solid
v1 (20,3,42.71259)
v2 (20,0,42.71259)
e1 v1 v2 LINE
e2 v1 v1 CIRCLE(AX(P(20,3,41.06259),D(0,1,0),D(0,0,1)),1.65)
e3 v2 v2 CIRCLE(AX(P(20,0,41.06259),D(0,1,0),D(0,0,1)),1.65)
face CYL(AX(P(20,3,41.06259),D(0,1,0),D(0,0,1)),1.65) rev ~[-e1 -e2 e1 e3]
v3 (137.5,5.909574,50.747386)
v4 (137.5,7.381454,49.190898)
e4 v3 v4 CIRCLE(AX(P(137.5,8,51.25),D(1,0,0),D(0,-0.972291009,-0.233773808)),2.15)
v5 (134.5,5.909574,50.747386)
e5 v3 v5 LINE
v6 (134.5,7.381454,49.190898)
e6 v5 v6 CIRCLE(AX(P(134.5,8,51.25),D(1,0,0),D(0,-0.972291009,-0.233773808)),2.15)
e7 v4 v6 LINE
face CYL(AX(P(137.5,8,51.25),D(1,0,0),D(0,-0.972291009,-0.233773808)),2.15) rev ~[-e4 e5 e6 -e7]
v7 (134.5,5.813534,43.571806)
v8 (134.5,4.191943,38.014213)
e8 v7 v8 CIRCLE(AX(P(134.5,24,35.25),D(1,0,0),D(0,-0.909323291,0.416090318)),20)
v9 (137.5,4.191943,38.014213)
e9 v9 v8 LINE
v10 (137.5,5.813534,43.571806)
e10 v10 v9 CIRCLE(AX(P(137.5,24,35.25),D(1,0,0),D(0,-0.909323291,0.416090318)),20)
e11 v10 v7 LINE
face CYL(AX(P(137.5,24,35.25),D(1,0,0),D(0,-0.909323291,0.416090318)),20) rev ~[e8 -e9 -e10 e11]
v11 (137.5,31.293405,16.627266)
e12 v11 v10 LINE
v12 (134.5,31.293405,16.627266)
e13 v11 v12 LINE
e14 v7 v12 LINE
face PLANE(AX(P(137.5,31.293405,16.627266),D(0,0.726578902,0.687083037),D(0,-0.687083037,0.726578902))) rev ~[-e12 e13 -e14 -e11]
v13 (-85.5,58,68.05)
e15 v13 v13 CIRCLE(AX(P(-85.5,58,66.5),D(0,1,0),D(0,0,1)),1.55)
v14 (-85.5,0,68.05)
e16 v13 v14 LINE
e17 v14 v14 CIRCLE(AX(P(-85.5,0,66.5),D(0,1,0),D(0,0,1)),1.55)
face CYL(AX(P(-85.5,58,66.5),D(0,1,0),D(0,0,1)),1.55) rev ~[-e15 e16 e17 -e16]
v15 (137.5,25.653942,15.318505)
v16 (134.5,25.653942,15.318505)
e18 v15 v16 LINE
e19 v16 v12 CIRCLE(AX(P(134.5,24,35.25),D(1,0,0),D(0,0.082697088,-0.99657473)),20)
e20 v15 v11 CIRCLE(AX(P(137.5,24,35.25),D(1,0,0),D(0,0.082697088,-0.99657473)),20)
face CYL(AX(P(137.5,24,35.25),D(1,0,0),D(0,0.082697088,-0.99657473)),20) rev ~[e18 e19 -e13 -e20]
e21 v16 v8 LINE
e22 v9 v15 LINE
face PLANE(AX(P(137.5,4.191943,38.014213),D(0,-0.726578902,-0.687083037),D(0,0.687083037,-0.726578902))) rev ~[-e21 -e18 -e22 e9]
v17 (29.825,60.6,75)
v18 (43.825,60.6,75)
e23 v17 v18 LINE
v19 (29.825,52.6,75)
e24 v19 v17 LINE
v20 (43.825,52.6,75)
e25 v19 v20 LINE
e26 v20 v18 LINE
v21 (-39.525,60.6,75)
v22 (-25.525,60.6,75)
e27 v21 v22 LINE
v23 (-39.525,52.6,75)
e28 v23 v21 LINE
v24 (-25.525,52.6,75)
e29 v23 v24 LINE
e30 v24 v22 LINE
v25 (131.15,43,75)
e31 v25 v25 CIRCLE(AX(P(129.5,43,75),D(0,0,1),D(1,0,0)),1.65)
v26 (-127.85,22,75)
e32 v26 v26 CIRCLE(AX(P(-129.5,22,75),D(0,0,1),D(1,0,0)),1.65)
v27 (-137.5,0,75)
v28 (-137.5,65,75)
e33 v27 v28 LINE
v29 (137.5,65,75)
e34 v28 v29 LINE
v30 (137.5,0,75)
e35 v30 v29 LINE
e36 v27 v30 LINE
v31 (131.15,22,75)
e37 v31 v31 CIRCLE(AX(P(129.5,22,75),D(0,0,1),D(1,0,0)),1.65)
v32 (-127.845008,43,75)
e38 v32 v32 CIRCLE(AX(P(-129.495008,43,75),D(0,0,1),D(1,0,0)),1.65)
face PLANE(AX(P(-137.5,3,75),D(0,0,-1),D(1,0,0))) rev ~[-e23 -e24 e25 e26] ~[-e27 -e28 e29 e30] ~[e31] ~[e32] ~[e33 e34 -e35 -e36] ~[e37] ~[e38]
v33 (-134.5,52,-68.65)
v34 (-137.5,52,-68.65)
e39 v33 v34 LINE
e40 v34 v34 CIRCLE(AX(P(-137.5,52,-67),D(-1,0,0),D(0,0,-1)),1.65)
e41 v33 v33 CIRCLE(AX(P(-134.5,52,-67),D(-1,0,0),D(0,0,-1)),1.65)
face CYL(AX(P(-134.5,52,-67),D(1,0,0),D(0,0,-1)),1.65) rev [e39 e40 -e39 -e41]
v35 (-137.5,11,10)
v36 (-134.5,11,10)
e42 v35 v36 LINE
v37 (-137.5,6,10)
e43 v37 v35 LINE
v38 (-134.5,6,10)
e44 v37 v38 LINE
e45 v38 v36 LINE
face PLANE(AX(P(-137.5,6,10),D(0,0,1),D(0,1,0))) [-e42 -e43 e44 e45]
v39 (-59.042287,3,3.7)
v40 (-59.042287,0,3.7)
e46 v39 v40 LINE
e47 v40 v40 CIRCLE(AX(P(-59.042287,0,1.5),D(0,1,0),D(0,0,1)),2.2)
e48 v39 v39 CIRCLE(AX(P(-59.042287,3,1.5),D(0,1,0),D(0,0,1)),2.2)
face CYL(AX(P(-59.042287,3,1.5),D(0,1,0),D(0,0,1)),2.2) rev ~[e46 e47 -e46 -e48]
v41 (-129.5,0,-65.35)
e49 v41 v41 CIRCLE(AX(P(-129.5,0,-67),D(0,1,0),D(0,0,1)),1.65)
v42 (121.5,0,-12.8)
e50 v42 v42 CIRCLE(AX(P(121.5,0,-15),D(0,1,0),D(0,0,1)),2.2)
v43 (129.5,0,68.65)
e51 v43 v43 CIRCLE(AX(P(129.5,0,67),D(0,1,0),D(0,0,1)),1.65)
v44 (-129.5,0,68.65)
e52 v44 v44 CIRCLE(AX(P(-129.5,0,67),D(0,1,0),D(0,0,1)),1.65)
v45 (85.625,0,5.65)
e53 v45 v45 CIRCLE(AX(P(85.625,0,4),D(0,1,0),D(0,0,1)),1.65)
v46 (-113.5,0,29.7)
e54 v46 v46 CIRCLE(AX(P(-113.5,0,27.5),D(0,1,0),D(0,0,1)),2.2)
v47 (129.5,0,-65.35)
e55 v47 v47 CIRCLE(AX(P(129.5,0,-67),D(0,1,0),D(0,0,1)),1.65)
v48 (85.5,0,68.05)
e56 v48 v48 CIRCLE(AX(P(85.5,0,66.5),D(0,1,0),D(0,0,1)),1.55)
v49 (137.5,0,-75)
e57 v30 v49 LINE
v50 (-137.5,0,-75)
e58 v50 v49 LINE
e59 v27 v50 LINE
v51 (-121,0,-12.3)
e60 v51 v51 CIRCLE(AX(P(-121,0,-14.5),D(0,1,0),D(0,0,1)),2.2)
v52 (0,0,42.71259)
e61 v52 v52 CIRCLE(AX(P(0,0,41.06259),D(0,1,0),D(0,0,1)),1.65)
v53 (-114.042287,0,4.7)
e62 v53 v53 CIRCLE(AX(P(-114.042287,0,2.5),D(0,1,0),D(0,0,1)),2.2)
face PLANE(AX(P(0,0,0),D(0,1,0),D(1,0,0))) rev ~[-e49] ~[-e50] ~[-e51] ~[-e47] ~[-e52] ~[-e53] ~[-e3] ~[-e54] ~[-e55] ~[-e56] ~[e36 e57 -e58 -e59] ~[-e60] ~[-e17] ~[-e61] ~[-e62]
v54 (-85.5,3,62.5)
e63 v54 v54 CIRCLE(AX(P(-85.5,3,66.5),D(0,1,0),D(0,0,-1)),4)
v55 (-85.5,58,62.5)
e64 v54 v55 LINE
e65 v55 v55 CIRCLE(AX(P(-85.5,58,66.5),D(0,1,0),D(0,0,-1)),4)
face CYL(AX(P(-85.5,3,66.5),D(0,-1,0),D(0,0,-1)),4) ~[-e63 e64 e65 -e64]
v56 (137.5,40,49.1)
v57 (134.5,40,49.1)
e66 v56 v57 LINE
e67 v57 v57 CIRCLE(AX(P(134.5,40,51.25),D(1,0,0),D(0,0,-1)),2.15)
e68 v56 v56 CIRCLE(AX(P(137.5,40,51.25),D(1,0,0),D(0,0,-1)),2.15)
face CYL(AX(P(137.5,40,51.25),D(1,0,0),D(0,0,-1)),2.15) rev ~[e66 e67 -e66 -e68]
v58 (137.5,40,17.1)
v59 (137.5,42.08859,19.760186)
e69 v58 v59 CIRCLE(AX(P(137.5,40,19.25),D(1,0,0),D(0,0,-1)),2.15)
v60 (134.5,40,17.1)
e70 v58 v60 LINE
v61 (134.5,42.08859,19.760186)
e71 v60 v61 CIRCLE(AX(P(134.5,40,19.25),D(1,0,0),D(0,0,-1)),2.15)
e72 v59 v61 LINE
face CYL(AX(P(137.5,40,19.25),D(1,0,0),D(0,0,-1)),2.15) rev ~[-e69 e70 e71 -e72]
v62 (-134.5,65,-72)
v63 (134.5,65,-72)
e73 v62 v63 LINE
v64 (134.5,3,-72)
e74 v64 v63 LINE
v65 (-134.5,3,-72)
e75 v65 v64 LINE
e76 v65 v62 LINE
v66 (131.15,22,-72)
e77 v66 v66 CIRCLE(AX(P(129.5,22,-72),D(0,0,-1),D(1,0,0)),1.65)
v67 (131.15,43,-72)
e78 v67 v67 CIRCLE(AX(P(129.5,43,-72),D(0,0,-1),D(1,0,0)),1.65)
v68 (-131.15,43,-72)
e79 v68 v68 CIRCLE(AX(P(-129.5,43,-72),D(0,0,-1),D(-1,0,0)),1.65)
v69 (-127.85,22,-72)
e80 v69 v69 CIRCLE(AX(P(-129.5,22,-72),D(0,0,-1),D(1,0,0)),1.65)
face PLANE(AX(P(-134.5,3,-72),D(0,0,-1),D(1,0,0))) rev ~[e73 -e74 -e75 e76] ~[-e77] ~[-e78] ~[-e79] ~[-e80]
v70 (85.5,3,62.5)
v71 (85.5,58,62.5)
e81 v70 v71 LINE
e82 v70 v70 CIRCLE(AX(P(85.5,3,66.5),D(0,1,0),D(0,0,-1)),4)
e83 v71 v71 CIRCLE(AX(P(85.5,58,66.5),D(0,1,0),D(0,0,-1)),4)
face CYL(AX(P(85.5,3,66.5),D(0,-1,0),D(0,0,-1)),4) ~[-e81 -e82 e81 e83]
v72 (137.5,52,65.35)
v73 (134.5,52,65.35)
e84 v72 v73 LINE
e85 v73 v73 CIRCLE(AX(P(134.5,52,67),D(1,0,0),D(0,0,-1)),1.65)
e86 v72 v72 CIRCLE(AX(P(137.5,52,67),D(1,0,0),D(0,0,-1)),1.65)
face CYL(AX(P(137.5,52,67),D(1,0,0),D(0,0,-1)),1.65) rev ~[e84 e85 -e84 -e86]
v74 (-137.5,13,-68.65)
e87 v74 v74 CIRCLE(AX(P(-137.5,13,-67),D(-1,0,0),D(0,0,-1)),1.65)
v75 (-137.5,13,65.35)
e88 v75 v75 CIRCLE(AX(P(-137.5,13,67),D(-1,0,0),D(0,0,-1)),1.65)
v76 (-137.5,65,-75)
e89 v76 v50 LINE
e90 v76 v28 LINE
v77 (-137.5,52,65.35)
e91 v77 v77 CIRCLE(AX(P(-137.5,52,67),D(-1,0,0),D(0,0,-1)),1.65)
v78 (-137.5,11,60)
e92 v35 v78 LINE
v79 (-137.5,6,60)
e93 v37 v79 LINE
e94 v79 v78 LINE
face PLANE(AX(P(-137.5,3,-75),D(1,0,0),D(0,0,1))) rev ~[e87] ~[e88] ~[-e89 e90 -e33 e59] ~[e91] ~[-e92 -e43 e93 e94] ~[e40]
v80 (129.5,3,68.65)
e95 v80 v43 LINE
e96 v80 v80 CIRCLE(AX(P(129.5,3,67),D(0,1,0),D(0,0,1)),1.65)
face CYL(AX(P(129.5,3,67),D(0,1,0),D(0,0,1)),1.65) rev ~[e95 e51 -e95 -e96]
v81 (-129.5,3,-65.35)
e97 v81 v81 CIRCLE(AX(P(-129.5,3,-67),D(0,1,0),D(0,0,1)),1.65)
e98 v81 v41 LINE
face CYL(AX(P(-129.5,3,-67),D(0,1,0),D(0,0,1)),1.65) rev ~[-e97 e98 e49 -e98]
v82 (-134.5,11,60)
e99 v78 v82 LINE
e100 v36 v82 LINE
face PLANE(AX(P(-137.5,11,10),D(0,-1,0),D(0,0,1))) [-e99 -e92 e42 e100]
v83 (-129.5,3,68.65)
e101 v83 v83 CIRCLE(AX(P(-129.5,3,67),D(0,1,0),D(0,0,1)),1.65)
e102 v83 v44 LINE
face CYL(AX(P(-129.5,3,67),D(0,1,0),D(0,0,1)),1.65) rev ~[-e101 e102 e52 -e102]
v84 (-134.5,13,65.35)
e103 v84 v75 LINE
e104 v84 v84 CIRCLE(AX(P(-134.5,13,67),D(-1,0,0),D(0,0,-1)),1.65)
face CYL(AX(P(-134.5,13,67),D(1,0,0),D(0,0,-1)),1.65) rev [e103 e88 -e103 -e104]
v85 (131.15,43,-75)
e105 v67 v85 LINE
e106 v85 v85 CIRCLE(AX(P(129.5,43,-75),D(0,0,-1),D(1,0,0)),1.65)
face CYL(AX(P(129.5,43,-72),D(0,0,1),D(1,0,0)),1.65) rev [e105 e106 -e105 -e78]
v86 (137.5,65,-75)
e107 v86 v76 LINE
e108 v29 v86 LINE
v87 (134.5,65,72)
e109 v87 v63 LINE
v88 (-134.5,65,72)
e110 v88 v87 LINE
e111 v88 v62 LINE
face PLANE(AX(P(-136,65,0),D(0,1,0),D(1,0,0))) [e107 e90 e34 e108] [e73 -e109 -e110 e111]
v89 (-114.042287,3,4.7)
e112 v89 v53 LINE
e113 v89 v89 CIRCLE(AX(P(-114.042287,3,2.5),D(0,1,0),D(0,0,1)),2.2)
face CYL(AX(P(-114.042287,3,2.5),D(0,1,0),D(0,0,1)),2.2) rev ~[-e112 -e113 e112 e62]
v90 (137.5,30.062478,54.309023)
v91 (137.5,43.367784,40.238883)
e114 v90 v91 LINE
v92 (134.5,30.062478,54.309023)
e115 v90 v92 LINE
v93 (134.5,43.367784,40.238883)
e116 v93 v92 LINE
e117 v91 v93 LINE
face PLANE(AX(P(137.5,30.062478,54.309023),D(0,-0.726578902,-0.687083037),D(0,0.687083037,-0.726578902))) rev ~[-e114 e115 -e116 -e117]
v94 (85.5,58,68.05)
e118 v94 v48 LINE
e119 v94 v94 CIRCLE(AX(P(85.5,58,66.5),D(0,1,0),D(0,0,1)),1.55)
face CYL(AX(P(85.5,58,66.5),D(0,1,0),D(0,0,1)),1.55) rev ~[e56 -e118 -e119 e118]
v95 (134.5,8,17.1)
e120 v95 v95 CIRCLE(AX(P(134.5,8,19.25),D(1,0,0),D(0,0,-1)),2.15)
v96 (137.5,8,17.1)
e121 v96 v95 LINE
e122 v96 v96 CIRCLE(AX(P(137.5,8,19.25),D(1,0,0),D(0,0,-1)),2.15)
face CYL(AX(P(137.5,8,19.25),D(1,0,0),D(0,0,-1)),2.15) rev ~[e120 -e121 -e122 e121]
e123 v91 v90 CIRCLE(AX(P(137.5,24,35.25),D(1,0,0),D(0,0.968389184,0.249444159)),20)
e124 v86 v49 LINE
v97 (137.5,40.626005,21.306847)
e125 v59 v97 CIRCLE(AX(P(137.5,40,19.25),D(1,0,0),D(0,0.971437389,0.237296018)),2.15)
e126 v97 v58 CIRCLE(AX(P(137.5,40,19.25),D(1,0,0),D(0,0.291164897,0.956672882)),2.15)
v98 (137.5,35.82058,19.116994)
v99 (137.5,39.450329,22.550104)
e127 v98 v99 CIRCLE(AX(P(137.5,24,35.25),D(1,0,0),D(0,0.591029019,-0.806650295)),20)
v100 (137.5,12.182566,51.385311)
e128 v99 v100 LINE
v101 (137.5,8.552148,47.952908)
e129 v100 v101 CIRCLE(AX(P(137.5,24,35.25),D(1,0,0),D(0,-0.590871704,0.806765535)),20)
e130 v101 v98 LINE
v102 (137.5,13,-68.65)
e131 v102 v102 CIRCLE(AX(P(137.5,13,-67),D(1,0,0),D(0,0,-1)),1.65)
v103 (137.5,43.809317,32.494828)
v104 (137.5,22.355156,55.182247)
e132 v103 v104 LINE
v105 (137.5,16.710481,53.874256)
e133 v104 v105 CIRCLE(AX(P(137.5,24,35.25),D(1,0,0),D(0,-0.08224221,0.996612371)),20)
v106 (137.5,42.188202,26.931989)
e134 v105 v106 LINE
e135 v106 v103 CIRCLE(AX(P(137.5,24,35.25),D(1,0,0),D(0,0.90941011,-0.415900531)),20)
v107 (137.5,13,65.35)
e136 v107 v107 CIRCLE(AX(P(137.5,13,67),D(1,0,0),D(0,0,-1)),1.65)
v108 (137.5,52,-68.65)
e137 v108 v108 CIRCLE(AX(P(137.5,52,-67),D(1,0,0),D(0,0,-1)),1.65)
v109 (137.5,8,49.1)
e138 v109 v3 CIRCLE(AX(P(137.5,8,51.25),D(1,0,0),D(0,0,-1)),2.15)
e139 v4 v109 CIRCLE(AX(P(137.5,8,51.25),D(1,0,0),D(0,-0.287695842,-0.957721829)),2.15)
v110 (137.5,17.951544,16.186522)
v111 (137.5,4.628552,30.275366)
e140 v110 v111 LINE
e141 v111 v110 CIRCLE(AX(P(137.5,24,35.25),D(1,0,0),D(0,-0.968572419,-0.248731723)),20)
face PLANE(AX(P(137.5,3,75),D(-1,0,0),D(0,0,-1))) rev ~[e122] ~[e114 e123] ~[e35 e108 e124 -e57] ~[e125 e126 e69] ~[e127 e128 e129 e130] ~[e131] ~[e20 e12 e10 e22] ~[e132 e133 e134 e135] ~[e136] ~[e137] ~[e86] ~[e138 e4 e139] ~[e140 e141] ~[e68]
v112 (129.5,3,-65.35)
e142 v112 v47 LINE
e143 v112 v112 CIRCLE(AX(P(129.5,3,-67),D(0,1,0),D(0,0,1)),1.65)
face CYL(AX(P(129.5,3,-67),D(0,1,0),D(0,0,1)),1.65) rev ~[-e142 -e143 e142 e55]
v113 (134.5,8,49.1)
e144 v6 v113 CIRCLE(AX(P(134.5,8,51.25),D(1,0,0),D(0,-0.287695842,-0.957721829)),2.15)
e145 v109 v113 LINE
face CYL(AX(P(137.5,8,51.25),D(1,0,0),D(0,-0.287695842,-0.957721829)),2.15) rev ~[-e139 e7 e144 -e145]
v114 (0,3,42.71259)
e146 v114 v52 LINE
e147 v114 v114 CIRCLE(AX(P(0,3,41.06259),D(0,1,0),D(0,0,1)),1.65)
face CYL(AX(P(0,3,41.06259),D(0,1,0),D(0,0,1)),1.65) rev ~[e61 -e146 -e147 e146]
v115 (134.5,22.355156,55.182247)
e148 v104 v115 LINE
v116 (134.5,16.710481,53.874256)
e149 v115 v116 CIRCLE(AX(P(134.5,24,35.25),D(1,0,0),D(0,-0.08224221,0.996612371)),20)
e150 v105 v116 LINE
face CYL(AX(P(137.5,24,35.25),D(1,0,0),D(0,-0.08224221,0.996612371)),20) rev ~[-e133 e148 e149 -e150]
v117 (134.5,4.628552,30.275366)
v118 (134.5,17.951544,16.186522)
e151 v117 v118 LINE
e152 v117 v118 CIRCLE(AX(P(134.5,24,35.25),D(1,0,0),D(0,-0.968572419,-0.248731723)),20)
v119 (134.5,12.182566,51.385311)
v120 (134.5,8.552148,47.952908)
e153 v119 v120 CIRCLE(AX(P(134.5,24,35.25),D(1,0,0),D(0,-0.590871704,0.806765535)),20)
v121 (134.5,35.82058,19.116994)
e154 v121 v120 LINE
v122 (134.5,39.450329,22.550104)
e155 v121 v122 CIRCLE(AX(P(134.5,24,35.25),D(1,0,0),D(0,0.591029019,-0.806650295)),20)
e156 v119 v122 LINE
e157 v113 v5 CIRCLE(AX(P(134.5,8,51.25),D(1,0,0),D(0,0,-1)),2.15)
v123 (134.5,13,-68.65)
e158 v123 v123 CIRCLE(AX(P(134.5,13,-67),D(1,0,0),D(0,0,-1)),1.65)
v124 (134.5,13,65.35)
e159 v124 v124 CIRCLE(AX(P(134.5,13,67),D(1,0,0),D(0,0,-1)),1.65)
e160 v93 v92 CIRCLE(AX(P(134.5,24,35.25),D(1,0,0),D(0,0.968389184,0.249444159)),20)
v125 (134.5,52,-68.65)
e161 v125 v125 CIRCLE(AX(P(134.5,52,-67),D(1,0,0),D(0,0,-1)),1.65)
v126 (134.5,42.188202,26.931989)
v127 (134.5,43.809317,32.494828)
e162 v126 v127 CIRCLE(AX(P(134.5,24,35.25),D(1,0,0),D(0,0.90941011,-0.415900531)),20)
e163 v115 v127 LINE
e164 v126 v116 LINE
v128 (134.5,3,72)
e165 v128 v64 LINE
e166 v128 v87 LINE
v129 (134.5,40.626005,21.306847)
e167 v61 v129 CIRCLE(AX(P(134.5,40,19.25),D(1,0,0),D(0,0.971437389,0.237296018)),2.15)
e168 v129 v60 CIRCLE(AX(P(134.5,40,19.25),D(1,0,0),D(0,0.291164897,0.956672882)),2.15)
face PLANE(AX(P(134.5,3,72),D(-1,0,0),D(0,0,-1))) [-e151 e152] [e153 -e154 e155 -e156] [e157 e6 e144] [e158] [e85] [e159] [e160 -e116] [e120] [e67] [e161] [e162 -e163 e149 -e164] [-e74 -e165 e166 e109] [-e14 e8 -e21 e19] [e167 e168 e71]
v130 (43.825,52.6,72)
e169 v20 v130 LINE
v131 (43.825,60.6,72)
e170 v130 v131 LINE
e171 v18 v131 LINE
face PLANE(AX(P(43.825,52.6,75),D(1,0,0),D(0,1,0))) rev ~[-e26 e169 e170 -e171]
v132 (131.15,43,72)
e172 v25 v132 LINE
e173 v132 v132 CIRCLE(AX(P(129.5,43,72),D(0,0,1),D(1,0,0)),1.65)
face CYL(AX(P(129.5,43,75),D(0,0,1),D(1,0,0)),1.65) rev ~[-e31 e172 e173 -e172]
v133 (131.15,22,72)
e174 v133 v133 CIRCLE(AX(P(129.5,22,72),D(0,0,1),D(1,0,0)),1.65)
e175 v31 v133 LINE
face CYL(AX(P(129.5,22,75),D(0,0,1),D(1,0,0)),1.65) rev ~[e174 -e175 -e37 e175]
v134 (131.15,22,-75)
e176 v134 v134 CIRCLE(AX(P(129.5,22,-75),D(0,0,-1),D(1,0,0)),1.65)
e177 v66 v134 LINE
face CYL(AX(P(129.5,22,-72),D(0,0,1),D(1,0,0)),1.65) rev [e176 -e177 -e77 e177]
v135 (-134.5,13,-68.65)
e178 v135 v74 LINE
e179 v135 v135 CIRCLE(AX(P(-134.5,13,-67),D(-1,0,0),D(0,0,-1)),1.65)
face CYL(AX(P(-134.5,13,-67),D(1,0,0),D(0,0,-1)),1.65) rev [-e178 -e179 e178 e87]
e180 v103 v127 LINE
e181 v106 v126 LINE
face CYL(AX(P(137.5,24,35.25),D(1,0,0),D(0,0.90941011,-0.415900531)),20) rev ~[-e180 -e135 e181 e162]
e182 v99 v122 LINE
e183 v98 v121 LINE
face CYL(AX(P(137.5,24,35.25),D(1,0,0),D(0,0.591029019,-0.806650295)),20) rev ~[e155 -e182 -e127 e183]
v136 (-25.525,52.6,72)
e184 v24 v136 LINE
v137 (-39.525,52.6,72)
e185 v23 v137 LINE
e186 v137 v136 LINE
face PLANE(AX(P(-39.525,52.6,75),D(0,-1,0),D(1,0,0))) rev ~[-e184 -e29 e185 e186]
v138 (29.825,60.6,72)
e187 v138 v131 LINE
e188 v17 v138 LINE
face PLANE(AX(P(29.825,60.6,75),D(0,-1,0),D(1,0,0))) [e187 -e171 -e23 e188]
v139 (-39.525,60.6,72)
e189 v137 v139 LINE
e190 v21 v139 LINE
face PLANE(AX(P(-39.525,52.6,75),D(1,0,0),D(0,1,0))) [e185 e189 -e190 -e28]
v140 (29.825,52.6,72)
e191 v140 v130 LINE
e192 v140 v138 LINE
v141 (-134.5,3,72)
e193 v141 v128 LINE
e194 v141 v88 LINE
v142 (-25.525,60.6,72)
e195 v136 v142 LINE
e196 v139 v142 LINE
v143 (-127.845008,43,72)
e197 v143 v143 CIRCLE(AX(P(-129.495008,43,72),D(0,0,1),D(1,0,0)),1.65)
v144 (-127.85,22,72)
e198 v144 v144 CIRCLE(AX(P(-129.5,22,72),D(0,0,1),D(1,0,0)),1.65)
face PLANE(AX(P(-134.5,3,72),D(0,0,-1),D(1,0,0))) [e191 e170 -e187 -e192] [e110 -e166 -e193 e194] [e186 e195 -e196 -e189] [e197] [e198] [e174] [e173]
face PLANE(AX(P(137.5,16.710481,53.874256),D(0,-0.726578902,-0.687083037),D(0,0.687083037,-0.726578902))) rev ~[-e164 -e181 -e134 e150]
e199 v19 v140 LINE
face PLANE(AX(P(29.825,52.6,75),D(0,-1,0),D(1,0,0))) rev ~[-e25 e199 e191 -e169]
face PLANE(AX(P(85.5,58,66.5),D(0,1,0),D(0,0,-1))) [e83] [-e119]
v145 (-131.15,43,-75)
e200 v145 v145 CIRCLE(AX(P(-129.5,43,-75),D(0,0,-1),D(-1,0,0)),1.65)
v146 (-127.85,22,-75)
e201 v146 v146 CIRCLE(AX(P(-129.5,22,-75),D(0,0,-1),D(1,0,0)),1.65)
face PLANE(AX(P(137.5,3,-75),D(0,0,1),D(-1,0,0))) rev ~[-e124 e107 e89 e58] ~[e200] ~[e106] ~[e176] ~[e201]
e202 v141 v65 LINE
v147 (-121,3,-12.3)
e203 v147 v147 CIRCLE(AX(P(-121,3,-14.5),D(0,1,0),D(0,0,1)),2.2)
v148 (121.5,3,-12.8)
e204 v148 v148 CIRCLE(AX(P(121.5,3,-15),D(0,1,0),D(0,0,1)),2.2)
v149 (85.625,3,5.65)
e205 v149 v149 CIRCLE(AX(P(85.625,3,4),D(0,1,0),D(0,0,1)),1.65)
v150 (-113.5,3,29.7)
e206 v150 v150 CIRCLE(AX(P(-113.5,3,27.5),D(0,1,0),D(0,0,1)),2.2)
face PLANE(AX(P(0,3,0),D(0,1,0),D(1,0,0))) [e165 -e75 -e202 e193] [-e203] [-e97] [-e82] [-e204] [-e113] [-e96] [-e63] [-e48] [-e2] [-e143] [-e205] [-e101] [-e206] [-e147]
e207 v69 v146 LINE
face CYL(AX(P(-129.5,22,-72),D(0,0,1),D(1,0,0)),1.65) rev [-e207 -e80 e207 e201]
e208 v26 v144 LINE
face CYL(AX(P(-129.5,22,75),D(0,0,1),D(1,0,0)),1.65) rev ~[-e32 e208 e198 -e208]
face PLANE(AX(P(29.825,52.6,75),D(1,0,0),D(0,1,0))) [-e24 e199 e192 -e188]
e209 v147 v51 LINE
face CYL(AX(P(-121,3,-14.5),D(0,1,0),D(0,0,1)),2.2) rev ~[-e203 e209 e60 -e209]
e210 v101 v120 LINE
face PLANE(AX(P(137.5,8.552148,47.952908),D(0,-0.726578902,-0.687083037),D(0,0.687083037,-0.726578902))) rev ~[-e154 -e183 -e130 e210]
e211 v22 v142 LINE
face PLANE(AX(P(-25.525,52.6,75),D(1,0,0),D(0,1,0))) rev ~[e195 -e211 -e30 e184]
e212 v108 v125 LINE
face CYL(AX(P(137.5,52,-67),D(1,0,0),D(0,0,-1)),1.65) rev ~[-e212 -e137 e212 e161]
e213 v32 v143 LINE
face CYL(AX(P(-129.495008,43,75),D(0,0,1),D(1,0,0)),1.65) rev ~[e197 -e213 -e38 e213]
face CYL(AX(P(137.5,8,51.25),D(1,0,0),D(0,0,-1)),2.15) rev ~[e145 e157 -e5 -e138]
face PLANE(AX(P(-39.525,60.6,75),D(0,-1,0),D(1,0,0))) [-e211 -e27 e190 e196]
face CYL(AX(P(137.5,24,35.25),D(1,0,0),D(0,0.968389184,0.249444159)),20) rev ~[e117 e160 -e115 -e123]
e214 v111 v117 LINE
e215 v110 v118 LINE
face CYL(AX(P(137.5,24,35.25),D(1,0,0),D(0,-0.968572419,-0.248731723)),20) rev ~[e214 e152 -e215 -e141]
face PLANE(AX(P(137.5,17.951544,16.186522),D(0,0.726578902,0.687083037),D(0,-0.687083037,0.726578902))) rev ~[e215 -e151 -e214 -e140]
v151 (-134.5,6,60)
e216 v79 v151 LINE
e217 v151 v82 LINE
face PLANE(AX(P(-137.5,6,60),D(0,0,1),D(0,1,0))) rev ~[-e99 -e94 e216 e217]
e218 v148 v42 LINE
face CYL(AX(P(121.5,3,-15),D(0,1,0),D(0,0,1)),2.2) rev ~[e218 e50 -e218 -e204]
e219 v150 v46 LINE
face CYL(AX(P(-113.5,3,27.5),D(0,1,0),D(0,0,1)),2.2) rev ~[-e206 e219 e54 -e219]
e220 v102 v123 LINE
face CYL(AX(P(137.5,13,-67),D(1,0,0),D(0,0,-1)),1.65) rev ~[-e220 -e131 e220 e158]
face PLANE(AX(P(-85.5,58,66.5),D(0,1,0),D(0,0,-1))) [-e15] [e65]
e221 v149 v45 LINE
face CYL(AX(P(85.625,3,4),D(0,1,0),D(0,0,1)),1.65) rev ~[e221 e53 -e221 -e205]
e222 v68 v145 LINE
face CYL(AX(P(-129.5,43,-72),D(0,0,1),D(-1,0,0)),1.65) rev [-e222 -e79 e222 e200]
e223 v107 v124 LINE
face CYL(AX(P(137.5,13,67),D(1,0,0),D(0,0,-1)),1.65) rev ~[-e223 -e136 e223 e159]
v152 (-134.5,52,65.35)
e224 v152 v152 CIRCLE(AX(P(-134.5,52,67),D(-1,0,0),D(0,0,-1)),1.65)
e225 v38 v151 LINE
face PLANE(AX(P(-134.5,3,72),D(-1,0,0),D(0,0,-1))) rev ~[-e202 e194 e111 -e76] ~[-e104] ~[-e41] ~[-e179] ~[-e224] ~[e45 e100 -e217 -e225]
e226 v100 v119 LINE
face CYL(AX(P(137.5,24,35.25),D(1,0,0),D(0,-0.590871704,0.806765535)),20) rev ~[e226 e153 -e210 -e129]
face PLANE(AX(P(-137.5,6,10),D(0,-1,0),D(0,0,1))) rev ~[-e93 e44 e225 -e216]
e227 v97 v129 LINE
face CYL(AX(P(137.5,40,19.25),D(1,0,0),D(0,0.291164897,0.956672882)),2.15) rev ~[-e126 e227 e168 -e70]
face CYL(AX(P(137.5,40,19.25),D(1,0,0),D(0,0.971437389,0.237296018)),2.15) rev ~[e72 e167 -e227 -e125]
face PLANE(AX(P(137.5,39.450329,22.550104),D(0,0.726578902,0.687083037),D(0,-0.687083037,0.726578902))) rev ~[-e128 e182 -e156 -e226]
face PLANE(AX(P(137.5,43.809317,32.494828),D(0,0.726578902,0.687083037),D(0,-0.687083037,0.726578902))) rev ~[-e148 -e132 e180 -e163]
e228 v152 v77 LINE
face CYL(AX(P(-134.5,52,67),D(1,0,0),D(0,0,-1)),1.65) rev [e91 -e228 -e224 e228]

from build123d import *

# Parameters (mm, degrees)
SKIZZE1_W                        = 275
SKIZZE1_H                        = 150
AUFSATZ_LINEAR_AUSTRAGEN1_DEPTH  = 3
SKIZZE2_W                        = 3
SKIZZE2_H                        = 144
SKIZZE2_W_2                      = 269
SKIZZE2_H_2                      = 3
AUFSATZ_LINEAR_AUSTRAGEN2_DEPTH  = 62
SKIZZE3_R                        = 4
AUFSATZ_LINEAR_AUSTRAGEN3_DEPTH  = 55
SKIZZE4_R                        = 1.55
SCHNITT_LINEAR_AUSTRAGEN1_DEPTH  = 168.018711527
SKIZZE9_R                        = 1.65
SCHNITT_LINEAR_AUSTRAGEN2_DEPTH  = 169.449547343
SKIZZE8_R                        = 2.2
SCHNITT_LINEAR_AUSTRAGEN3_DEPTH  = 10
SKIZZE10_R                       = 1.65
SCHNITT_LINEAR_AUSTRAGEN4_DEPTH  = 10
SKIZZE12_R                       = 2.15
SCHNITT_LINEAR_AUSTRAGEN5_DEPTH  = 10
SKIZZE13_W                       = 50
SKIZZE13_H                       = 5
SCHNITT_LINEAR_AUSTRAGEN6_DEPTH  = 3
SKIZZE14_W                       = 14
SKIZZE14_H                       = 8
SCHNITT_LINEAR_AUSTRAGEN7_DEPTH  = 3
SKIZZE20_R                       = 1.65
SCHNITT_LINEAR_AUSTRAGEN8_DEPTH  = 3
SKIZZE21_R                       = 1.65
SCHNITT_LINEAR_AUSTRAGEN9_DEPTH  = 3
SCHNITT_LINEAR_START             = -3
SKIZZE22_R                       = 1.65
SCHNITT_LINEAR_AUSTRAGEN10_DEPTH = 3
SKIZZE23_R                       = 1.65
SCHNITT_LINEAR_AUSTRAGEN11_DEPTH = 3
SKIZZE24_R                       = 1.65
SCHNITT_LINEAR_AUSTRAGEN12_DEPTH = 3


with BuildPart() as part:
    # Skizze1 → Aufsatz-Linear austragen1 (new body)
    with BuildSketch(Plane(origin=(0, 0, 0), x_dir=(1, 0, 0), z_dir=(0, 1, 0))):
        Rectangle(SKIZZE1_W, SKIZZE1_H)
    extrude(amount=AUFSATZ_LINEAR_AUSTRAGEN1_DEPTH)

    # Skizze2 → Aufsatz-Linear austragen2 (add)
    with BuildSketch(Plane(origin=(0, 3, 0), x_dir=(1, 0, 0), z_dir=(0, 1, 0))):
        with Locations((-136, 0)):
            Rectangle(SKIZZE2_W, SKIZZE2_H)
        with Locations((0, 73.5)):
            Rectangle(SKIZZE2_W_2, SKIZZE2_H_2)
        with Locations((-136, 73.5)):
            Rectangle(SKIZZE2_W, SKIZZE2_H_2)
        with Locations((136, 0)):
            Rectangle(SKIZZE2_W, SKIZZE2_H)
        with Locations((136, 73.5)):
            Rectangle(SKIZZE2_W, SKIZZE2_H_2)
        with Locations((0, -73.5)):
            Rectangle(SKIZZE2_W_2, SKIZZE2_H_2)
        with Locations((136, -73.5)):
            Rectangle(SKIZZE2_W, SKIZZE2_H_2)
        with Locations((-136, -73.5)):
            Rectangle(SKIZZE2_W, SKIZZE2_H_2)
    extrude(amount=AUFSATZ_LINEAR_AUSTRAGEN2_DEPTH)

    # Skizze3 → Aufsatz-Linear austragen3 (add)
    with BuildSketch(Plane(origin=(0, 3, 0), x_dir=(1, 0, 0), z_dir=(0, 1, 0))):
        with Locations(Location((-85.5, -66.5, 0), (0, 0, 90))):
            Circle(SKIZZE3_R)
        with Locations(Location((85.5, -66.5, 0), (0, 0, 90))):
            Circle(SKIZZE3_R)
    extrude(amount=AUFSATZ_LINEAR_AUSTRAGEN3_DEPTH)

    # Skizze4 → Schnitt-Linear austragen1 (cut, through all)
    with BuildSketch(Plane(origin=(0, 58, 0), x_dir=(1, 0, 0), z_dir=(0, 1, 0))):
        with Locations(Location((-85.5, -66.5, 0), (0, 0, 270))):
            Circle(SKIZZE4_R)
        with Locations(Location((85.5, -66.5, 0), (0, 0, 270))):
            Circle(SKIZZE4_R)
    extrude(amount=-SCHNITT_LINEAR_AUSTRAGEN1_DEPTH, mode=Mode.SUBTRACT)

    # Skizze9 → Schnitt-Linear austragen2 (cut, through all)
    with BuildSketch(Plane(origin=(0, 3, 0), x_dir=(1, 0, 0), z_dir=(0, 1, 0))):
        with Locations(Location((85.625, -4, 0), (0, 0, 270))):
            Circle(SKIZZE9_R)
    extrude(amount=-SCHNITT_LINEAR_AUSTRAGEN2_DEPTH, mode=Mode.SUBTRACT)

    # Skizze8 → Schnitt-Linear austragen3 (cut)
    with BuildSketch(Plane(origin=(0, 3, 0), x_dir=(1, 0, 0), z_dir=(0, 1, 0))):
        with Locations(Location((121.5, 15, 0), (0, 0, 270))):
            Circle(SKIZZE8_R)
        with Locations(Location((-121, 14.5, 0), (0, 0, 270))):
            Circle(SKIZZE8_R)
        with Locations(Location((-59.042286835, -1.5, 0), (0, 0, 270))):
            Circle(SKIZZE8_R)
        with Locations(Location((-114.042286835, -2.5, 0), (0, 0, 270))):
            Circle(SKIZZE8_R)
        with Locations(Location((-113.5, -27.5, 0), (0, 0, 270))):
            Circle(SKIZZE8_R)
    extrude(amount=-SCHNITT_LINEAR_AUSTRAGEN3_DEPTH, mode=Mode.SUBTRACT)

    # Skizze10 → Schnitt-Linear austragen4 (cut)
    with BuildSketch(Plane(origin=(0, 3, 0), x_dir=(1, 0, 0), z_dir=(0, 1, 0))):
        with Locations(Location((-129.5, 67, 0), (0, 0, 270))):
            Circle(SKIZZE10_R)
        with Locations(Location((129.5, 67, 0), (0, 0, 270))):
            Circle(SKIZZE10_R)
        with Locations(Location((129.5, -67, 0), (0, 0, 270))):
            Circle(SKIZZE10_R)
        with Locations(Location((-129.5, -67, 0), (0, 0, 270))):
            Circle(SKIZZE10_R)
    extrude(amount=-SCHNITT_LINEAR_AUSTRAGEN4_DEPTH, mode=Mode.SUBTRACT)

    # Skizze12 → Schnitt-Linear austragen5 (cut)
    with BuildSketch(Plane(origin=(137.5, 0, 0), x_dir=(0, 0, -1), z_dir=(1, 0, 0))):
        with BuildLine():
            ThreePointArc((-40.238883175, 43.36778368), (-48.991660734, 38.531578038), (-54.309023109, 30.062477887))
            Line((-54.309023109, 30.062477887), (-40.238883175, 43.36778368))
        make_face()
        with BuildLine():
            ThreePointArc((-55.182247429, 22.355155802), (-54.733751685, 19.485199861), (-53.874256158, 16.710481321))
            Line((-53.874256158, 16.710481321), (-26.931989392, 42.188202207))
            ThreePointArc((-26.931989392, 42.188202207), (-29.654390681, 43.201280071), (-32.494828488, 43.809316746))
            Line((-32.494828488, 43.809316746), (-55.182247429, 22.355155802))
        make_face()
        with BuildLine():
            Line((-22.550104474, 39.450328593), (-51.385310709, 12.182565916))
            ThreePointArc((-51.385310709, 12.182565916), (-49.78291784, 10.259756223), (-47.952908231, 8.552148289))
            Line((-47.952908231, 8.552148289), (-19.116994099, 35.820580383))
            ThreePointArc((-19.116994099, 35.820580383), (-20.719761902, 37.743077559), (-22.550104474, 39.450328593))
        make_face()
        with BuildLine():
            Line((-16.627265595, 31.293405466), (-43.571806367, 5.813534186))
            ThreePointArc((-43.571806367, 5.813534186), (-40.851994747, 4.800581914), (-38.014212853, 4.191942869))
            Line((-38.014212853, 4.191942869), (-15.318505409, 25.653941765))
            ThreePointArc((-15.318505409, 25.653941765), (-15.767750872, 28.521279567), (-16.627265595, 31.293405466))
        make_face()
        with BuildLine():
            Line((-16.186522357, 17.951543986), (-30.275365538, 4.628551629))
            ThreePointArc((-30.275365538, 4.628551629), (-21.508339266, 9.468421962), (-16.186522357, 17.951543986))
        make_face()
        with Locations((-51.25, 40)):
            Circle(SKIZZE12_R)
        with BuildLine():
            ThreePointArc((-19.760186439, 42.088590385), (-20.727228529, 41.562144639), (-21.306846696, 40.626004528))
            Line((-21.306846696, 40.626004528), (-19.760186439, 42.088590385))
        make_face()
        with BuildLine():
            Line((-19.760186439, 42.088590385), (-21.306846696, 40.626004528))
            ThreePointArc((-21.306846696, 40.626004528), (-19.566448735, 37.873415838), (-17.1, 40))
            ThreePointArc((-17.1, 40), (-17.922295372, 41.691064878), (-19.760186439, 42.088590385))
        make_face()
        with Locations((-19.25, 8)):
            Circle(SKIZZE12_R)
        with BuildLine():
            ThreePointArc((-50.747386311, 5.909574331), (-49.772771471, 6.437855361), (-49.190898067, 7.381453938))
            Line((-49.190898067, 7.381453938), (-50.747386311, 5.909574331))
        make_face()
        with BuildLine():
            Line((-50.747386311, 5.909574331), (-49.190898067, 7.381453938))
            ThreePointArc((-49.190898067, 7.381453938), (-49.122845897, 7.687405338), (-49.1, 8))
            ThreePointArc((-49.1, 8), (-52.938656186, 9.330766803), (-50.747386311, 5.909574331))
        make_face()
    extrude(amount=-SCHNITT_LINEAR_AUSTRAGEN5_DEPTH, mode=Mode.SUBTRACT)

    # Skizze13 → Schnitt-Linear austragen6 (cut)
    with BuildSketch(Plane.ZY.offset(137.5)):
        with Locations((35, 8.5)):
            Rectangle(SKIZZE13_W, SKIZZE13_H)
    extrude(amount=-SCHNITT_LINEAR_AUSTRAGEN6_DEPTH, mode=Mode.SUBTRACT)

    # Skizze14 → Schnitt-Linear austragen7 (cut)
    with BuildSketch(Plane.XY.offset(75)):
        with Locations((-32.525, 56.6)):
            Rectangle(SKIZZE14_W, SKIZZE14_H)
        with Locations((36.825, 56.6)):
            Rectangle(SKIZZE14_W, SKIZZE14_H)
    extrude(amount=-SCHNITT_LINEAR_AUSTRAGEN7_DEPTH, mode=Mode.SUBTRACT)

    # Skizze20 → Schnitt-Linear austragen8 (cut)
    with BuildSketch(Plane(origin=(0, 3, 0), x_dir=(1, 0, 0), z_dir=(0, 1, 0))):
        with Locations(Location((0, -41.062589667, 0), (0, 0, 270))):
            Circle(SKIZZE20_R)
        with Locations(Location((20, -41.062589667, 0), (0, 0, 270))):
            Circle(SKIZZE20_R)
    extrude(amount=-SCHNITT_LINEAR_AUSTRAGEN8_DEPTH, mode=Mode.SUBTRACT)

    # Skizze21 → Schnitt-Linear austragen9 (cut)
    with BuildSketch(Plane(origin=(137.5, 0, 0), x_dir=(0, 0, -1), z_dir=(1, 0, 0))):
        with Locations((-67, 52)):
            Circle(SKIZZE21_R)
        with Locations((-67, 13)):
            Circle(SKIZZE21_R)
        with Locations((67, 13)):
            Circle(SKIZZE21_R)
        with Locations((67, 52)):
            Circle(SKIZZE21_R)
    extrude(amount=-SCHNITT_LINEAR_AUSTRAGEN9_DEPTH, mode=Mode.SUBTRACT)

    # Skizze22 → Schnitt-Linear austragen10 (cut)
    with BuildSketch(Plane.ZY.offset(137.5).offset(SCHNITT_LINEAR_START)):
        with Locations(Location((-67, 52, 0), (0, 0, 180))):
            Circle(SKIZZE22_R)
        with Locations(Location((-67, 13, 0), (0, 0, 180))):
            Circle(SKIZZE22_R)
        with Locations(Location((67, 13, 0), (0, 0, 180))):
            Circle(SKIZZE22_R)
        with Locations(Location((67, 52, 0), (0, 0, 180))):
            Circle(SKIZZE22_R)
    extrude(amount=SCHNITT_LINEAR_AUSTRAGEN10_DEPTH, mode=Mode.SUBTRACT)

    # Skizze23 → Schnitt-Linear austragen11 (cut)
    with BuildSketch(Plane.XY.offset(75)):
        with Locations((-129.495008006, 43)):
            Circle(SKIZZE23_R)
        with Locations((-129.5, 22)):
            Circle(SKIZZE23_R)
        with Locations((129.5, 43)):
            Circle(SKIZZE23_R)
        with Locations((129.5, 22)):
            Circle(SKIZZE23_R)
    extrude(amount=-SCHNITT_LINEAR_AUSTRAGEN11_DEPTH, mode=Mode.SUBTRACT)

    # Skizze24 → Schnitt-Linear austragen12 (cut)
    with BuildSketch(Plane(origin=(0, 0, -75), x_dir=(-1, 0, 0), z_dir=(0, 0, -1)).offset(SCHNITT_LINEAR_START)):
        with Locations(Location((-129.5, 43, 0), (0, 0, 180))):
            Circle(SKIZZE24_R)
        with Locations(Location((-129.5, 22, 0), (0, 0, 180))):
            Circle(SKIZZE24_R)
        with Locations((129.5, 43)):
            Circle(SKIZZE24_R)
        with Locations(Location((129.5, 22, 0), (0, 0, 180))):
            Circle(SKIZZE24_R)
    extrude(amount=SCHNITT_LINEAR_AUSTRAGEN12_DEPTH, mode=Mode.SUBTRACT)


solid = part.part
